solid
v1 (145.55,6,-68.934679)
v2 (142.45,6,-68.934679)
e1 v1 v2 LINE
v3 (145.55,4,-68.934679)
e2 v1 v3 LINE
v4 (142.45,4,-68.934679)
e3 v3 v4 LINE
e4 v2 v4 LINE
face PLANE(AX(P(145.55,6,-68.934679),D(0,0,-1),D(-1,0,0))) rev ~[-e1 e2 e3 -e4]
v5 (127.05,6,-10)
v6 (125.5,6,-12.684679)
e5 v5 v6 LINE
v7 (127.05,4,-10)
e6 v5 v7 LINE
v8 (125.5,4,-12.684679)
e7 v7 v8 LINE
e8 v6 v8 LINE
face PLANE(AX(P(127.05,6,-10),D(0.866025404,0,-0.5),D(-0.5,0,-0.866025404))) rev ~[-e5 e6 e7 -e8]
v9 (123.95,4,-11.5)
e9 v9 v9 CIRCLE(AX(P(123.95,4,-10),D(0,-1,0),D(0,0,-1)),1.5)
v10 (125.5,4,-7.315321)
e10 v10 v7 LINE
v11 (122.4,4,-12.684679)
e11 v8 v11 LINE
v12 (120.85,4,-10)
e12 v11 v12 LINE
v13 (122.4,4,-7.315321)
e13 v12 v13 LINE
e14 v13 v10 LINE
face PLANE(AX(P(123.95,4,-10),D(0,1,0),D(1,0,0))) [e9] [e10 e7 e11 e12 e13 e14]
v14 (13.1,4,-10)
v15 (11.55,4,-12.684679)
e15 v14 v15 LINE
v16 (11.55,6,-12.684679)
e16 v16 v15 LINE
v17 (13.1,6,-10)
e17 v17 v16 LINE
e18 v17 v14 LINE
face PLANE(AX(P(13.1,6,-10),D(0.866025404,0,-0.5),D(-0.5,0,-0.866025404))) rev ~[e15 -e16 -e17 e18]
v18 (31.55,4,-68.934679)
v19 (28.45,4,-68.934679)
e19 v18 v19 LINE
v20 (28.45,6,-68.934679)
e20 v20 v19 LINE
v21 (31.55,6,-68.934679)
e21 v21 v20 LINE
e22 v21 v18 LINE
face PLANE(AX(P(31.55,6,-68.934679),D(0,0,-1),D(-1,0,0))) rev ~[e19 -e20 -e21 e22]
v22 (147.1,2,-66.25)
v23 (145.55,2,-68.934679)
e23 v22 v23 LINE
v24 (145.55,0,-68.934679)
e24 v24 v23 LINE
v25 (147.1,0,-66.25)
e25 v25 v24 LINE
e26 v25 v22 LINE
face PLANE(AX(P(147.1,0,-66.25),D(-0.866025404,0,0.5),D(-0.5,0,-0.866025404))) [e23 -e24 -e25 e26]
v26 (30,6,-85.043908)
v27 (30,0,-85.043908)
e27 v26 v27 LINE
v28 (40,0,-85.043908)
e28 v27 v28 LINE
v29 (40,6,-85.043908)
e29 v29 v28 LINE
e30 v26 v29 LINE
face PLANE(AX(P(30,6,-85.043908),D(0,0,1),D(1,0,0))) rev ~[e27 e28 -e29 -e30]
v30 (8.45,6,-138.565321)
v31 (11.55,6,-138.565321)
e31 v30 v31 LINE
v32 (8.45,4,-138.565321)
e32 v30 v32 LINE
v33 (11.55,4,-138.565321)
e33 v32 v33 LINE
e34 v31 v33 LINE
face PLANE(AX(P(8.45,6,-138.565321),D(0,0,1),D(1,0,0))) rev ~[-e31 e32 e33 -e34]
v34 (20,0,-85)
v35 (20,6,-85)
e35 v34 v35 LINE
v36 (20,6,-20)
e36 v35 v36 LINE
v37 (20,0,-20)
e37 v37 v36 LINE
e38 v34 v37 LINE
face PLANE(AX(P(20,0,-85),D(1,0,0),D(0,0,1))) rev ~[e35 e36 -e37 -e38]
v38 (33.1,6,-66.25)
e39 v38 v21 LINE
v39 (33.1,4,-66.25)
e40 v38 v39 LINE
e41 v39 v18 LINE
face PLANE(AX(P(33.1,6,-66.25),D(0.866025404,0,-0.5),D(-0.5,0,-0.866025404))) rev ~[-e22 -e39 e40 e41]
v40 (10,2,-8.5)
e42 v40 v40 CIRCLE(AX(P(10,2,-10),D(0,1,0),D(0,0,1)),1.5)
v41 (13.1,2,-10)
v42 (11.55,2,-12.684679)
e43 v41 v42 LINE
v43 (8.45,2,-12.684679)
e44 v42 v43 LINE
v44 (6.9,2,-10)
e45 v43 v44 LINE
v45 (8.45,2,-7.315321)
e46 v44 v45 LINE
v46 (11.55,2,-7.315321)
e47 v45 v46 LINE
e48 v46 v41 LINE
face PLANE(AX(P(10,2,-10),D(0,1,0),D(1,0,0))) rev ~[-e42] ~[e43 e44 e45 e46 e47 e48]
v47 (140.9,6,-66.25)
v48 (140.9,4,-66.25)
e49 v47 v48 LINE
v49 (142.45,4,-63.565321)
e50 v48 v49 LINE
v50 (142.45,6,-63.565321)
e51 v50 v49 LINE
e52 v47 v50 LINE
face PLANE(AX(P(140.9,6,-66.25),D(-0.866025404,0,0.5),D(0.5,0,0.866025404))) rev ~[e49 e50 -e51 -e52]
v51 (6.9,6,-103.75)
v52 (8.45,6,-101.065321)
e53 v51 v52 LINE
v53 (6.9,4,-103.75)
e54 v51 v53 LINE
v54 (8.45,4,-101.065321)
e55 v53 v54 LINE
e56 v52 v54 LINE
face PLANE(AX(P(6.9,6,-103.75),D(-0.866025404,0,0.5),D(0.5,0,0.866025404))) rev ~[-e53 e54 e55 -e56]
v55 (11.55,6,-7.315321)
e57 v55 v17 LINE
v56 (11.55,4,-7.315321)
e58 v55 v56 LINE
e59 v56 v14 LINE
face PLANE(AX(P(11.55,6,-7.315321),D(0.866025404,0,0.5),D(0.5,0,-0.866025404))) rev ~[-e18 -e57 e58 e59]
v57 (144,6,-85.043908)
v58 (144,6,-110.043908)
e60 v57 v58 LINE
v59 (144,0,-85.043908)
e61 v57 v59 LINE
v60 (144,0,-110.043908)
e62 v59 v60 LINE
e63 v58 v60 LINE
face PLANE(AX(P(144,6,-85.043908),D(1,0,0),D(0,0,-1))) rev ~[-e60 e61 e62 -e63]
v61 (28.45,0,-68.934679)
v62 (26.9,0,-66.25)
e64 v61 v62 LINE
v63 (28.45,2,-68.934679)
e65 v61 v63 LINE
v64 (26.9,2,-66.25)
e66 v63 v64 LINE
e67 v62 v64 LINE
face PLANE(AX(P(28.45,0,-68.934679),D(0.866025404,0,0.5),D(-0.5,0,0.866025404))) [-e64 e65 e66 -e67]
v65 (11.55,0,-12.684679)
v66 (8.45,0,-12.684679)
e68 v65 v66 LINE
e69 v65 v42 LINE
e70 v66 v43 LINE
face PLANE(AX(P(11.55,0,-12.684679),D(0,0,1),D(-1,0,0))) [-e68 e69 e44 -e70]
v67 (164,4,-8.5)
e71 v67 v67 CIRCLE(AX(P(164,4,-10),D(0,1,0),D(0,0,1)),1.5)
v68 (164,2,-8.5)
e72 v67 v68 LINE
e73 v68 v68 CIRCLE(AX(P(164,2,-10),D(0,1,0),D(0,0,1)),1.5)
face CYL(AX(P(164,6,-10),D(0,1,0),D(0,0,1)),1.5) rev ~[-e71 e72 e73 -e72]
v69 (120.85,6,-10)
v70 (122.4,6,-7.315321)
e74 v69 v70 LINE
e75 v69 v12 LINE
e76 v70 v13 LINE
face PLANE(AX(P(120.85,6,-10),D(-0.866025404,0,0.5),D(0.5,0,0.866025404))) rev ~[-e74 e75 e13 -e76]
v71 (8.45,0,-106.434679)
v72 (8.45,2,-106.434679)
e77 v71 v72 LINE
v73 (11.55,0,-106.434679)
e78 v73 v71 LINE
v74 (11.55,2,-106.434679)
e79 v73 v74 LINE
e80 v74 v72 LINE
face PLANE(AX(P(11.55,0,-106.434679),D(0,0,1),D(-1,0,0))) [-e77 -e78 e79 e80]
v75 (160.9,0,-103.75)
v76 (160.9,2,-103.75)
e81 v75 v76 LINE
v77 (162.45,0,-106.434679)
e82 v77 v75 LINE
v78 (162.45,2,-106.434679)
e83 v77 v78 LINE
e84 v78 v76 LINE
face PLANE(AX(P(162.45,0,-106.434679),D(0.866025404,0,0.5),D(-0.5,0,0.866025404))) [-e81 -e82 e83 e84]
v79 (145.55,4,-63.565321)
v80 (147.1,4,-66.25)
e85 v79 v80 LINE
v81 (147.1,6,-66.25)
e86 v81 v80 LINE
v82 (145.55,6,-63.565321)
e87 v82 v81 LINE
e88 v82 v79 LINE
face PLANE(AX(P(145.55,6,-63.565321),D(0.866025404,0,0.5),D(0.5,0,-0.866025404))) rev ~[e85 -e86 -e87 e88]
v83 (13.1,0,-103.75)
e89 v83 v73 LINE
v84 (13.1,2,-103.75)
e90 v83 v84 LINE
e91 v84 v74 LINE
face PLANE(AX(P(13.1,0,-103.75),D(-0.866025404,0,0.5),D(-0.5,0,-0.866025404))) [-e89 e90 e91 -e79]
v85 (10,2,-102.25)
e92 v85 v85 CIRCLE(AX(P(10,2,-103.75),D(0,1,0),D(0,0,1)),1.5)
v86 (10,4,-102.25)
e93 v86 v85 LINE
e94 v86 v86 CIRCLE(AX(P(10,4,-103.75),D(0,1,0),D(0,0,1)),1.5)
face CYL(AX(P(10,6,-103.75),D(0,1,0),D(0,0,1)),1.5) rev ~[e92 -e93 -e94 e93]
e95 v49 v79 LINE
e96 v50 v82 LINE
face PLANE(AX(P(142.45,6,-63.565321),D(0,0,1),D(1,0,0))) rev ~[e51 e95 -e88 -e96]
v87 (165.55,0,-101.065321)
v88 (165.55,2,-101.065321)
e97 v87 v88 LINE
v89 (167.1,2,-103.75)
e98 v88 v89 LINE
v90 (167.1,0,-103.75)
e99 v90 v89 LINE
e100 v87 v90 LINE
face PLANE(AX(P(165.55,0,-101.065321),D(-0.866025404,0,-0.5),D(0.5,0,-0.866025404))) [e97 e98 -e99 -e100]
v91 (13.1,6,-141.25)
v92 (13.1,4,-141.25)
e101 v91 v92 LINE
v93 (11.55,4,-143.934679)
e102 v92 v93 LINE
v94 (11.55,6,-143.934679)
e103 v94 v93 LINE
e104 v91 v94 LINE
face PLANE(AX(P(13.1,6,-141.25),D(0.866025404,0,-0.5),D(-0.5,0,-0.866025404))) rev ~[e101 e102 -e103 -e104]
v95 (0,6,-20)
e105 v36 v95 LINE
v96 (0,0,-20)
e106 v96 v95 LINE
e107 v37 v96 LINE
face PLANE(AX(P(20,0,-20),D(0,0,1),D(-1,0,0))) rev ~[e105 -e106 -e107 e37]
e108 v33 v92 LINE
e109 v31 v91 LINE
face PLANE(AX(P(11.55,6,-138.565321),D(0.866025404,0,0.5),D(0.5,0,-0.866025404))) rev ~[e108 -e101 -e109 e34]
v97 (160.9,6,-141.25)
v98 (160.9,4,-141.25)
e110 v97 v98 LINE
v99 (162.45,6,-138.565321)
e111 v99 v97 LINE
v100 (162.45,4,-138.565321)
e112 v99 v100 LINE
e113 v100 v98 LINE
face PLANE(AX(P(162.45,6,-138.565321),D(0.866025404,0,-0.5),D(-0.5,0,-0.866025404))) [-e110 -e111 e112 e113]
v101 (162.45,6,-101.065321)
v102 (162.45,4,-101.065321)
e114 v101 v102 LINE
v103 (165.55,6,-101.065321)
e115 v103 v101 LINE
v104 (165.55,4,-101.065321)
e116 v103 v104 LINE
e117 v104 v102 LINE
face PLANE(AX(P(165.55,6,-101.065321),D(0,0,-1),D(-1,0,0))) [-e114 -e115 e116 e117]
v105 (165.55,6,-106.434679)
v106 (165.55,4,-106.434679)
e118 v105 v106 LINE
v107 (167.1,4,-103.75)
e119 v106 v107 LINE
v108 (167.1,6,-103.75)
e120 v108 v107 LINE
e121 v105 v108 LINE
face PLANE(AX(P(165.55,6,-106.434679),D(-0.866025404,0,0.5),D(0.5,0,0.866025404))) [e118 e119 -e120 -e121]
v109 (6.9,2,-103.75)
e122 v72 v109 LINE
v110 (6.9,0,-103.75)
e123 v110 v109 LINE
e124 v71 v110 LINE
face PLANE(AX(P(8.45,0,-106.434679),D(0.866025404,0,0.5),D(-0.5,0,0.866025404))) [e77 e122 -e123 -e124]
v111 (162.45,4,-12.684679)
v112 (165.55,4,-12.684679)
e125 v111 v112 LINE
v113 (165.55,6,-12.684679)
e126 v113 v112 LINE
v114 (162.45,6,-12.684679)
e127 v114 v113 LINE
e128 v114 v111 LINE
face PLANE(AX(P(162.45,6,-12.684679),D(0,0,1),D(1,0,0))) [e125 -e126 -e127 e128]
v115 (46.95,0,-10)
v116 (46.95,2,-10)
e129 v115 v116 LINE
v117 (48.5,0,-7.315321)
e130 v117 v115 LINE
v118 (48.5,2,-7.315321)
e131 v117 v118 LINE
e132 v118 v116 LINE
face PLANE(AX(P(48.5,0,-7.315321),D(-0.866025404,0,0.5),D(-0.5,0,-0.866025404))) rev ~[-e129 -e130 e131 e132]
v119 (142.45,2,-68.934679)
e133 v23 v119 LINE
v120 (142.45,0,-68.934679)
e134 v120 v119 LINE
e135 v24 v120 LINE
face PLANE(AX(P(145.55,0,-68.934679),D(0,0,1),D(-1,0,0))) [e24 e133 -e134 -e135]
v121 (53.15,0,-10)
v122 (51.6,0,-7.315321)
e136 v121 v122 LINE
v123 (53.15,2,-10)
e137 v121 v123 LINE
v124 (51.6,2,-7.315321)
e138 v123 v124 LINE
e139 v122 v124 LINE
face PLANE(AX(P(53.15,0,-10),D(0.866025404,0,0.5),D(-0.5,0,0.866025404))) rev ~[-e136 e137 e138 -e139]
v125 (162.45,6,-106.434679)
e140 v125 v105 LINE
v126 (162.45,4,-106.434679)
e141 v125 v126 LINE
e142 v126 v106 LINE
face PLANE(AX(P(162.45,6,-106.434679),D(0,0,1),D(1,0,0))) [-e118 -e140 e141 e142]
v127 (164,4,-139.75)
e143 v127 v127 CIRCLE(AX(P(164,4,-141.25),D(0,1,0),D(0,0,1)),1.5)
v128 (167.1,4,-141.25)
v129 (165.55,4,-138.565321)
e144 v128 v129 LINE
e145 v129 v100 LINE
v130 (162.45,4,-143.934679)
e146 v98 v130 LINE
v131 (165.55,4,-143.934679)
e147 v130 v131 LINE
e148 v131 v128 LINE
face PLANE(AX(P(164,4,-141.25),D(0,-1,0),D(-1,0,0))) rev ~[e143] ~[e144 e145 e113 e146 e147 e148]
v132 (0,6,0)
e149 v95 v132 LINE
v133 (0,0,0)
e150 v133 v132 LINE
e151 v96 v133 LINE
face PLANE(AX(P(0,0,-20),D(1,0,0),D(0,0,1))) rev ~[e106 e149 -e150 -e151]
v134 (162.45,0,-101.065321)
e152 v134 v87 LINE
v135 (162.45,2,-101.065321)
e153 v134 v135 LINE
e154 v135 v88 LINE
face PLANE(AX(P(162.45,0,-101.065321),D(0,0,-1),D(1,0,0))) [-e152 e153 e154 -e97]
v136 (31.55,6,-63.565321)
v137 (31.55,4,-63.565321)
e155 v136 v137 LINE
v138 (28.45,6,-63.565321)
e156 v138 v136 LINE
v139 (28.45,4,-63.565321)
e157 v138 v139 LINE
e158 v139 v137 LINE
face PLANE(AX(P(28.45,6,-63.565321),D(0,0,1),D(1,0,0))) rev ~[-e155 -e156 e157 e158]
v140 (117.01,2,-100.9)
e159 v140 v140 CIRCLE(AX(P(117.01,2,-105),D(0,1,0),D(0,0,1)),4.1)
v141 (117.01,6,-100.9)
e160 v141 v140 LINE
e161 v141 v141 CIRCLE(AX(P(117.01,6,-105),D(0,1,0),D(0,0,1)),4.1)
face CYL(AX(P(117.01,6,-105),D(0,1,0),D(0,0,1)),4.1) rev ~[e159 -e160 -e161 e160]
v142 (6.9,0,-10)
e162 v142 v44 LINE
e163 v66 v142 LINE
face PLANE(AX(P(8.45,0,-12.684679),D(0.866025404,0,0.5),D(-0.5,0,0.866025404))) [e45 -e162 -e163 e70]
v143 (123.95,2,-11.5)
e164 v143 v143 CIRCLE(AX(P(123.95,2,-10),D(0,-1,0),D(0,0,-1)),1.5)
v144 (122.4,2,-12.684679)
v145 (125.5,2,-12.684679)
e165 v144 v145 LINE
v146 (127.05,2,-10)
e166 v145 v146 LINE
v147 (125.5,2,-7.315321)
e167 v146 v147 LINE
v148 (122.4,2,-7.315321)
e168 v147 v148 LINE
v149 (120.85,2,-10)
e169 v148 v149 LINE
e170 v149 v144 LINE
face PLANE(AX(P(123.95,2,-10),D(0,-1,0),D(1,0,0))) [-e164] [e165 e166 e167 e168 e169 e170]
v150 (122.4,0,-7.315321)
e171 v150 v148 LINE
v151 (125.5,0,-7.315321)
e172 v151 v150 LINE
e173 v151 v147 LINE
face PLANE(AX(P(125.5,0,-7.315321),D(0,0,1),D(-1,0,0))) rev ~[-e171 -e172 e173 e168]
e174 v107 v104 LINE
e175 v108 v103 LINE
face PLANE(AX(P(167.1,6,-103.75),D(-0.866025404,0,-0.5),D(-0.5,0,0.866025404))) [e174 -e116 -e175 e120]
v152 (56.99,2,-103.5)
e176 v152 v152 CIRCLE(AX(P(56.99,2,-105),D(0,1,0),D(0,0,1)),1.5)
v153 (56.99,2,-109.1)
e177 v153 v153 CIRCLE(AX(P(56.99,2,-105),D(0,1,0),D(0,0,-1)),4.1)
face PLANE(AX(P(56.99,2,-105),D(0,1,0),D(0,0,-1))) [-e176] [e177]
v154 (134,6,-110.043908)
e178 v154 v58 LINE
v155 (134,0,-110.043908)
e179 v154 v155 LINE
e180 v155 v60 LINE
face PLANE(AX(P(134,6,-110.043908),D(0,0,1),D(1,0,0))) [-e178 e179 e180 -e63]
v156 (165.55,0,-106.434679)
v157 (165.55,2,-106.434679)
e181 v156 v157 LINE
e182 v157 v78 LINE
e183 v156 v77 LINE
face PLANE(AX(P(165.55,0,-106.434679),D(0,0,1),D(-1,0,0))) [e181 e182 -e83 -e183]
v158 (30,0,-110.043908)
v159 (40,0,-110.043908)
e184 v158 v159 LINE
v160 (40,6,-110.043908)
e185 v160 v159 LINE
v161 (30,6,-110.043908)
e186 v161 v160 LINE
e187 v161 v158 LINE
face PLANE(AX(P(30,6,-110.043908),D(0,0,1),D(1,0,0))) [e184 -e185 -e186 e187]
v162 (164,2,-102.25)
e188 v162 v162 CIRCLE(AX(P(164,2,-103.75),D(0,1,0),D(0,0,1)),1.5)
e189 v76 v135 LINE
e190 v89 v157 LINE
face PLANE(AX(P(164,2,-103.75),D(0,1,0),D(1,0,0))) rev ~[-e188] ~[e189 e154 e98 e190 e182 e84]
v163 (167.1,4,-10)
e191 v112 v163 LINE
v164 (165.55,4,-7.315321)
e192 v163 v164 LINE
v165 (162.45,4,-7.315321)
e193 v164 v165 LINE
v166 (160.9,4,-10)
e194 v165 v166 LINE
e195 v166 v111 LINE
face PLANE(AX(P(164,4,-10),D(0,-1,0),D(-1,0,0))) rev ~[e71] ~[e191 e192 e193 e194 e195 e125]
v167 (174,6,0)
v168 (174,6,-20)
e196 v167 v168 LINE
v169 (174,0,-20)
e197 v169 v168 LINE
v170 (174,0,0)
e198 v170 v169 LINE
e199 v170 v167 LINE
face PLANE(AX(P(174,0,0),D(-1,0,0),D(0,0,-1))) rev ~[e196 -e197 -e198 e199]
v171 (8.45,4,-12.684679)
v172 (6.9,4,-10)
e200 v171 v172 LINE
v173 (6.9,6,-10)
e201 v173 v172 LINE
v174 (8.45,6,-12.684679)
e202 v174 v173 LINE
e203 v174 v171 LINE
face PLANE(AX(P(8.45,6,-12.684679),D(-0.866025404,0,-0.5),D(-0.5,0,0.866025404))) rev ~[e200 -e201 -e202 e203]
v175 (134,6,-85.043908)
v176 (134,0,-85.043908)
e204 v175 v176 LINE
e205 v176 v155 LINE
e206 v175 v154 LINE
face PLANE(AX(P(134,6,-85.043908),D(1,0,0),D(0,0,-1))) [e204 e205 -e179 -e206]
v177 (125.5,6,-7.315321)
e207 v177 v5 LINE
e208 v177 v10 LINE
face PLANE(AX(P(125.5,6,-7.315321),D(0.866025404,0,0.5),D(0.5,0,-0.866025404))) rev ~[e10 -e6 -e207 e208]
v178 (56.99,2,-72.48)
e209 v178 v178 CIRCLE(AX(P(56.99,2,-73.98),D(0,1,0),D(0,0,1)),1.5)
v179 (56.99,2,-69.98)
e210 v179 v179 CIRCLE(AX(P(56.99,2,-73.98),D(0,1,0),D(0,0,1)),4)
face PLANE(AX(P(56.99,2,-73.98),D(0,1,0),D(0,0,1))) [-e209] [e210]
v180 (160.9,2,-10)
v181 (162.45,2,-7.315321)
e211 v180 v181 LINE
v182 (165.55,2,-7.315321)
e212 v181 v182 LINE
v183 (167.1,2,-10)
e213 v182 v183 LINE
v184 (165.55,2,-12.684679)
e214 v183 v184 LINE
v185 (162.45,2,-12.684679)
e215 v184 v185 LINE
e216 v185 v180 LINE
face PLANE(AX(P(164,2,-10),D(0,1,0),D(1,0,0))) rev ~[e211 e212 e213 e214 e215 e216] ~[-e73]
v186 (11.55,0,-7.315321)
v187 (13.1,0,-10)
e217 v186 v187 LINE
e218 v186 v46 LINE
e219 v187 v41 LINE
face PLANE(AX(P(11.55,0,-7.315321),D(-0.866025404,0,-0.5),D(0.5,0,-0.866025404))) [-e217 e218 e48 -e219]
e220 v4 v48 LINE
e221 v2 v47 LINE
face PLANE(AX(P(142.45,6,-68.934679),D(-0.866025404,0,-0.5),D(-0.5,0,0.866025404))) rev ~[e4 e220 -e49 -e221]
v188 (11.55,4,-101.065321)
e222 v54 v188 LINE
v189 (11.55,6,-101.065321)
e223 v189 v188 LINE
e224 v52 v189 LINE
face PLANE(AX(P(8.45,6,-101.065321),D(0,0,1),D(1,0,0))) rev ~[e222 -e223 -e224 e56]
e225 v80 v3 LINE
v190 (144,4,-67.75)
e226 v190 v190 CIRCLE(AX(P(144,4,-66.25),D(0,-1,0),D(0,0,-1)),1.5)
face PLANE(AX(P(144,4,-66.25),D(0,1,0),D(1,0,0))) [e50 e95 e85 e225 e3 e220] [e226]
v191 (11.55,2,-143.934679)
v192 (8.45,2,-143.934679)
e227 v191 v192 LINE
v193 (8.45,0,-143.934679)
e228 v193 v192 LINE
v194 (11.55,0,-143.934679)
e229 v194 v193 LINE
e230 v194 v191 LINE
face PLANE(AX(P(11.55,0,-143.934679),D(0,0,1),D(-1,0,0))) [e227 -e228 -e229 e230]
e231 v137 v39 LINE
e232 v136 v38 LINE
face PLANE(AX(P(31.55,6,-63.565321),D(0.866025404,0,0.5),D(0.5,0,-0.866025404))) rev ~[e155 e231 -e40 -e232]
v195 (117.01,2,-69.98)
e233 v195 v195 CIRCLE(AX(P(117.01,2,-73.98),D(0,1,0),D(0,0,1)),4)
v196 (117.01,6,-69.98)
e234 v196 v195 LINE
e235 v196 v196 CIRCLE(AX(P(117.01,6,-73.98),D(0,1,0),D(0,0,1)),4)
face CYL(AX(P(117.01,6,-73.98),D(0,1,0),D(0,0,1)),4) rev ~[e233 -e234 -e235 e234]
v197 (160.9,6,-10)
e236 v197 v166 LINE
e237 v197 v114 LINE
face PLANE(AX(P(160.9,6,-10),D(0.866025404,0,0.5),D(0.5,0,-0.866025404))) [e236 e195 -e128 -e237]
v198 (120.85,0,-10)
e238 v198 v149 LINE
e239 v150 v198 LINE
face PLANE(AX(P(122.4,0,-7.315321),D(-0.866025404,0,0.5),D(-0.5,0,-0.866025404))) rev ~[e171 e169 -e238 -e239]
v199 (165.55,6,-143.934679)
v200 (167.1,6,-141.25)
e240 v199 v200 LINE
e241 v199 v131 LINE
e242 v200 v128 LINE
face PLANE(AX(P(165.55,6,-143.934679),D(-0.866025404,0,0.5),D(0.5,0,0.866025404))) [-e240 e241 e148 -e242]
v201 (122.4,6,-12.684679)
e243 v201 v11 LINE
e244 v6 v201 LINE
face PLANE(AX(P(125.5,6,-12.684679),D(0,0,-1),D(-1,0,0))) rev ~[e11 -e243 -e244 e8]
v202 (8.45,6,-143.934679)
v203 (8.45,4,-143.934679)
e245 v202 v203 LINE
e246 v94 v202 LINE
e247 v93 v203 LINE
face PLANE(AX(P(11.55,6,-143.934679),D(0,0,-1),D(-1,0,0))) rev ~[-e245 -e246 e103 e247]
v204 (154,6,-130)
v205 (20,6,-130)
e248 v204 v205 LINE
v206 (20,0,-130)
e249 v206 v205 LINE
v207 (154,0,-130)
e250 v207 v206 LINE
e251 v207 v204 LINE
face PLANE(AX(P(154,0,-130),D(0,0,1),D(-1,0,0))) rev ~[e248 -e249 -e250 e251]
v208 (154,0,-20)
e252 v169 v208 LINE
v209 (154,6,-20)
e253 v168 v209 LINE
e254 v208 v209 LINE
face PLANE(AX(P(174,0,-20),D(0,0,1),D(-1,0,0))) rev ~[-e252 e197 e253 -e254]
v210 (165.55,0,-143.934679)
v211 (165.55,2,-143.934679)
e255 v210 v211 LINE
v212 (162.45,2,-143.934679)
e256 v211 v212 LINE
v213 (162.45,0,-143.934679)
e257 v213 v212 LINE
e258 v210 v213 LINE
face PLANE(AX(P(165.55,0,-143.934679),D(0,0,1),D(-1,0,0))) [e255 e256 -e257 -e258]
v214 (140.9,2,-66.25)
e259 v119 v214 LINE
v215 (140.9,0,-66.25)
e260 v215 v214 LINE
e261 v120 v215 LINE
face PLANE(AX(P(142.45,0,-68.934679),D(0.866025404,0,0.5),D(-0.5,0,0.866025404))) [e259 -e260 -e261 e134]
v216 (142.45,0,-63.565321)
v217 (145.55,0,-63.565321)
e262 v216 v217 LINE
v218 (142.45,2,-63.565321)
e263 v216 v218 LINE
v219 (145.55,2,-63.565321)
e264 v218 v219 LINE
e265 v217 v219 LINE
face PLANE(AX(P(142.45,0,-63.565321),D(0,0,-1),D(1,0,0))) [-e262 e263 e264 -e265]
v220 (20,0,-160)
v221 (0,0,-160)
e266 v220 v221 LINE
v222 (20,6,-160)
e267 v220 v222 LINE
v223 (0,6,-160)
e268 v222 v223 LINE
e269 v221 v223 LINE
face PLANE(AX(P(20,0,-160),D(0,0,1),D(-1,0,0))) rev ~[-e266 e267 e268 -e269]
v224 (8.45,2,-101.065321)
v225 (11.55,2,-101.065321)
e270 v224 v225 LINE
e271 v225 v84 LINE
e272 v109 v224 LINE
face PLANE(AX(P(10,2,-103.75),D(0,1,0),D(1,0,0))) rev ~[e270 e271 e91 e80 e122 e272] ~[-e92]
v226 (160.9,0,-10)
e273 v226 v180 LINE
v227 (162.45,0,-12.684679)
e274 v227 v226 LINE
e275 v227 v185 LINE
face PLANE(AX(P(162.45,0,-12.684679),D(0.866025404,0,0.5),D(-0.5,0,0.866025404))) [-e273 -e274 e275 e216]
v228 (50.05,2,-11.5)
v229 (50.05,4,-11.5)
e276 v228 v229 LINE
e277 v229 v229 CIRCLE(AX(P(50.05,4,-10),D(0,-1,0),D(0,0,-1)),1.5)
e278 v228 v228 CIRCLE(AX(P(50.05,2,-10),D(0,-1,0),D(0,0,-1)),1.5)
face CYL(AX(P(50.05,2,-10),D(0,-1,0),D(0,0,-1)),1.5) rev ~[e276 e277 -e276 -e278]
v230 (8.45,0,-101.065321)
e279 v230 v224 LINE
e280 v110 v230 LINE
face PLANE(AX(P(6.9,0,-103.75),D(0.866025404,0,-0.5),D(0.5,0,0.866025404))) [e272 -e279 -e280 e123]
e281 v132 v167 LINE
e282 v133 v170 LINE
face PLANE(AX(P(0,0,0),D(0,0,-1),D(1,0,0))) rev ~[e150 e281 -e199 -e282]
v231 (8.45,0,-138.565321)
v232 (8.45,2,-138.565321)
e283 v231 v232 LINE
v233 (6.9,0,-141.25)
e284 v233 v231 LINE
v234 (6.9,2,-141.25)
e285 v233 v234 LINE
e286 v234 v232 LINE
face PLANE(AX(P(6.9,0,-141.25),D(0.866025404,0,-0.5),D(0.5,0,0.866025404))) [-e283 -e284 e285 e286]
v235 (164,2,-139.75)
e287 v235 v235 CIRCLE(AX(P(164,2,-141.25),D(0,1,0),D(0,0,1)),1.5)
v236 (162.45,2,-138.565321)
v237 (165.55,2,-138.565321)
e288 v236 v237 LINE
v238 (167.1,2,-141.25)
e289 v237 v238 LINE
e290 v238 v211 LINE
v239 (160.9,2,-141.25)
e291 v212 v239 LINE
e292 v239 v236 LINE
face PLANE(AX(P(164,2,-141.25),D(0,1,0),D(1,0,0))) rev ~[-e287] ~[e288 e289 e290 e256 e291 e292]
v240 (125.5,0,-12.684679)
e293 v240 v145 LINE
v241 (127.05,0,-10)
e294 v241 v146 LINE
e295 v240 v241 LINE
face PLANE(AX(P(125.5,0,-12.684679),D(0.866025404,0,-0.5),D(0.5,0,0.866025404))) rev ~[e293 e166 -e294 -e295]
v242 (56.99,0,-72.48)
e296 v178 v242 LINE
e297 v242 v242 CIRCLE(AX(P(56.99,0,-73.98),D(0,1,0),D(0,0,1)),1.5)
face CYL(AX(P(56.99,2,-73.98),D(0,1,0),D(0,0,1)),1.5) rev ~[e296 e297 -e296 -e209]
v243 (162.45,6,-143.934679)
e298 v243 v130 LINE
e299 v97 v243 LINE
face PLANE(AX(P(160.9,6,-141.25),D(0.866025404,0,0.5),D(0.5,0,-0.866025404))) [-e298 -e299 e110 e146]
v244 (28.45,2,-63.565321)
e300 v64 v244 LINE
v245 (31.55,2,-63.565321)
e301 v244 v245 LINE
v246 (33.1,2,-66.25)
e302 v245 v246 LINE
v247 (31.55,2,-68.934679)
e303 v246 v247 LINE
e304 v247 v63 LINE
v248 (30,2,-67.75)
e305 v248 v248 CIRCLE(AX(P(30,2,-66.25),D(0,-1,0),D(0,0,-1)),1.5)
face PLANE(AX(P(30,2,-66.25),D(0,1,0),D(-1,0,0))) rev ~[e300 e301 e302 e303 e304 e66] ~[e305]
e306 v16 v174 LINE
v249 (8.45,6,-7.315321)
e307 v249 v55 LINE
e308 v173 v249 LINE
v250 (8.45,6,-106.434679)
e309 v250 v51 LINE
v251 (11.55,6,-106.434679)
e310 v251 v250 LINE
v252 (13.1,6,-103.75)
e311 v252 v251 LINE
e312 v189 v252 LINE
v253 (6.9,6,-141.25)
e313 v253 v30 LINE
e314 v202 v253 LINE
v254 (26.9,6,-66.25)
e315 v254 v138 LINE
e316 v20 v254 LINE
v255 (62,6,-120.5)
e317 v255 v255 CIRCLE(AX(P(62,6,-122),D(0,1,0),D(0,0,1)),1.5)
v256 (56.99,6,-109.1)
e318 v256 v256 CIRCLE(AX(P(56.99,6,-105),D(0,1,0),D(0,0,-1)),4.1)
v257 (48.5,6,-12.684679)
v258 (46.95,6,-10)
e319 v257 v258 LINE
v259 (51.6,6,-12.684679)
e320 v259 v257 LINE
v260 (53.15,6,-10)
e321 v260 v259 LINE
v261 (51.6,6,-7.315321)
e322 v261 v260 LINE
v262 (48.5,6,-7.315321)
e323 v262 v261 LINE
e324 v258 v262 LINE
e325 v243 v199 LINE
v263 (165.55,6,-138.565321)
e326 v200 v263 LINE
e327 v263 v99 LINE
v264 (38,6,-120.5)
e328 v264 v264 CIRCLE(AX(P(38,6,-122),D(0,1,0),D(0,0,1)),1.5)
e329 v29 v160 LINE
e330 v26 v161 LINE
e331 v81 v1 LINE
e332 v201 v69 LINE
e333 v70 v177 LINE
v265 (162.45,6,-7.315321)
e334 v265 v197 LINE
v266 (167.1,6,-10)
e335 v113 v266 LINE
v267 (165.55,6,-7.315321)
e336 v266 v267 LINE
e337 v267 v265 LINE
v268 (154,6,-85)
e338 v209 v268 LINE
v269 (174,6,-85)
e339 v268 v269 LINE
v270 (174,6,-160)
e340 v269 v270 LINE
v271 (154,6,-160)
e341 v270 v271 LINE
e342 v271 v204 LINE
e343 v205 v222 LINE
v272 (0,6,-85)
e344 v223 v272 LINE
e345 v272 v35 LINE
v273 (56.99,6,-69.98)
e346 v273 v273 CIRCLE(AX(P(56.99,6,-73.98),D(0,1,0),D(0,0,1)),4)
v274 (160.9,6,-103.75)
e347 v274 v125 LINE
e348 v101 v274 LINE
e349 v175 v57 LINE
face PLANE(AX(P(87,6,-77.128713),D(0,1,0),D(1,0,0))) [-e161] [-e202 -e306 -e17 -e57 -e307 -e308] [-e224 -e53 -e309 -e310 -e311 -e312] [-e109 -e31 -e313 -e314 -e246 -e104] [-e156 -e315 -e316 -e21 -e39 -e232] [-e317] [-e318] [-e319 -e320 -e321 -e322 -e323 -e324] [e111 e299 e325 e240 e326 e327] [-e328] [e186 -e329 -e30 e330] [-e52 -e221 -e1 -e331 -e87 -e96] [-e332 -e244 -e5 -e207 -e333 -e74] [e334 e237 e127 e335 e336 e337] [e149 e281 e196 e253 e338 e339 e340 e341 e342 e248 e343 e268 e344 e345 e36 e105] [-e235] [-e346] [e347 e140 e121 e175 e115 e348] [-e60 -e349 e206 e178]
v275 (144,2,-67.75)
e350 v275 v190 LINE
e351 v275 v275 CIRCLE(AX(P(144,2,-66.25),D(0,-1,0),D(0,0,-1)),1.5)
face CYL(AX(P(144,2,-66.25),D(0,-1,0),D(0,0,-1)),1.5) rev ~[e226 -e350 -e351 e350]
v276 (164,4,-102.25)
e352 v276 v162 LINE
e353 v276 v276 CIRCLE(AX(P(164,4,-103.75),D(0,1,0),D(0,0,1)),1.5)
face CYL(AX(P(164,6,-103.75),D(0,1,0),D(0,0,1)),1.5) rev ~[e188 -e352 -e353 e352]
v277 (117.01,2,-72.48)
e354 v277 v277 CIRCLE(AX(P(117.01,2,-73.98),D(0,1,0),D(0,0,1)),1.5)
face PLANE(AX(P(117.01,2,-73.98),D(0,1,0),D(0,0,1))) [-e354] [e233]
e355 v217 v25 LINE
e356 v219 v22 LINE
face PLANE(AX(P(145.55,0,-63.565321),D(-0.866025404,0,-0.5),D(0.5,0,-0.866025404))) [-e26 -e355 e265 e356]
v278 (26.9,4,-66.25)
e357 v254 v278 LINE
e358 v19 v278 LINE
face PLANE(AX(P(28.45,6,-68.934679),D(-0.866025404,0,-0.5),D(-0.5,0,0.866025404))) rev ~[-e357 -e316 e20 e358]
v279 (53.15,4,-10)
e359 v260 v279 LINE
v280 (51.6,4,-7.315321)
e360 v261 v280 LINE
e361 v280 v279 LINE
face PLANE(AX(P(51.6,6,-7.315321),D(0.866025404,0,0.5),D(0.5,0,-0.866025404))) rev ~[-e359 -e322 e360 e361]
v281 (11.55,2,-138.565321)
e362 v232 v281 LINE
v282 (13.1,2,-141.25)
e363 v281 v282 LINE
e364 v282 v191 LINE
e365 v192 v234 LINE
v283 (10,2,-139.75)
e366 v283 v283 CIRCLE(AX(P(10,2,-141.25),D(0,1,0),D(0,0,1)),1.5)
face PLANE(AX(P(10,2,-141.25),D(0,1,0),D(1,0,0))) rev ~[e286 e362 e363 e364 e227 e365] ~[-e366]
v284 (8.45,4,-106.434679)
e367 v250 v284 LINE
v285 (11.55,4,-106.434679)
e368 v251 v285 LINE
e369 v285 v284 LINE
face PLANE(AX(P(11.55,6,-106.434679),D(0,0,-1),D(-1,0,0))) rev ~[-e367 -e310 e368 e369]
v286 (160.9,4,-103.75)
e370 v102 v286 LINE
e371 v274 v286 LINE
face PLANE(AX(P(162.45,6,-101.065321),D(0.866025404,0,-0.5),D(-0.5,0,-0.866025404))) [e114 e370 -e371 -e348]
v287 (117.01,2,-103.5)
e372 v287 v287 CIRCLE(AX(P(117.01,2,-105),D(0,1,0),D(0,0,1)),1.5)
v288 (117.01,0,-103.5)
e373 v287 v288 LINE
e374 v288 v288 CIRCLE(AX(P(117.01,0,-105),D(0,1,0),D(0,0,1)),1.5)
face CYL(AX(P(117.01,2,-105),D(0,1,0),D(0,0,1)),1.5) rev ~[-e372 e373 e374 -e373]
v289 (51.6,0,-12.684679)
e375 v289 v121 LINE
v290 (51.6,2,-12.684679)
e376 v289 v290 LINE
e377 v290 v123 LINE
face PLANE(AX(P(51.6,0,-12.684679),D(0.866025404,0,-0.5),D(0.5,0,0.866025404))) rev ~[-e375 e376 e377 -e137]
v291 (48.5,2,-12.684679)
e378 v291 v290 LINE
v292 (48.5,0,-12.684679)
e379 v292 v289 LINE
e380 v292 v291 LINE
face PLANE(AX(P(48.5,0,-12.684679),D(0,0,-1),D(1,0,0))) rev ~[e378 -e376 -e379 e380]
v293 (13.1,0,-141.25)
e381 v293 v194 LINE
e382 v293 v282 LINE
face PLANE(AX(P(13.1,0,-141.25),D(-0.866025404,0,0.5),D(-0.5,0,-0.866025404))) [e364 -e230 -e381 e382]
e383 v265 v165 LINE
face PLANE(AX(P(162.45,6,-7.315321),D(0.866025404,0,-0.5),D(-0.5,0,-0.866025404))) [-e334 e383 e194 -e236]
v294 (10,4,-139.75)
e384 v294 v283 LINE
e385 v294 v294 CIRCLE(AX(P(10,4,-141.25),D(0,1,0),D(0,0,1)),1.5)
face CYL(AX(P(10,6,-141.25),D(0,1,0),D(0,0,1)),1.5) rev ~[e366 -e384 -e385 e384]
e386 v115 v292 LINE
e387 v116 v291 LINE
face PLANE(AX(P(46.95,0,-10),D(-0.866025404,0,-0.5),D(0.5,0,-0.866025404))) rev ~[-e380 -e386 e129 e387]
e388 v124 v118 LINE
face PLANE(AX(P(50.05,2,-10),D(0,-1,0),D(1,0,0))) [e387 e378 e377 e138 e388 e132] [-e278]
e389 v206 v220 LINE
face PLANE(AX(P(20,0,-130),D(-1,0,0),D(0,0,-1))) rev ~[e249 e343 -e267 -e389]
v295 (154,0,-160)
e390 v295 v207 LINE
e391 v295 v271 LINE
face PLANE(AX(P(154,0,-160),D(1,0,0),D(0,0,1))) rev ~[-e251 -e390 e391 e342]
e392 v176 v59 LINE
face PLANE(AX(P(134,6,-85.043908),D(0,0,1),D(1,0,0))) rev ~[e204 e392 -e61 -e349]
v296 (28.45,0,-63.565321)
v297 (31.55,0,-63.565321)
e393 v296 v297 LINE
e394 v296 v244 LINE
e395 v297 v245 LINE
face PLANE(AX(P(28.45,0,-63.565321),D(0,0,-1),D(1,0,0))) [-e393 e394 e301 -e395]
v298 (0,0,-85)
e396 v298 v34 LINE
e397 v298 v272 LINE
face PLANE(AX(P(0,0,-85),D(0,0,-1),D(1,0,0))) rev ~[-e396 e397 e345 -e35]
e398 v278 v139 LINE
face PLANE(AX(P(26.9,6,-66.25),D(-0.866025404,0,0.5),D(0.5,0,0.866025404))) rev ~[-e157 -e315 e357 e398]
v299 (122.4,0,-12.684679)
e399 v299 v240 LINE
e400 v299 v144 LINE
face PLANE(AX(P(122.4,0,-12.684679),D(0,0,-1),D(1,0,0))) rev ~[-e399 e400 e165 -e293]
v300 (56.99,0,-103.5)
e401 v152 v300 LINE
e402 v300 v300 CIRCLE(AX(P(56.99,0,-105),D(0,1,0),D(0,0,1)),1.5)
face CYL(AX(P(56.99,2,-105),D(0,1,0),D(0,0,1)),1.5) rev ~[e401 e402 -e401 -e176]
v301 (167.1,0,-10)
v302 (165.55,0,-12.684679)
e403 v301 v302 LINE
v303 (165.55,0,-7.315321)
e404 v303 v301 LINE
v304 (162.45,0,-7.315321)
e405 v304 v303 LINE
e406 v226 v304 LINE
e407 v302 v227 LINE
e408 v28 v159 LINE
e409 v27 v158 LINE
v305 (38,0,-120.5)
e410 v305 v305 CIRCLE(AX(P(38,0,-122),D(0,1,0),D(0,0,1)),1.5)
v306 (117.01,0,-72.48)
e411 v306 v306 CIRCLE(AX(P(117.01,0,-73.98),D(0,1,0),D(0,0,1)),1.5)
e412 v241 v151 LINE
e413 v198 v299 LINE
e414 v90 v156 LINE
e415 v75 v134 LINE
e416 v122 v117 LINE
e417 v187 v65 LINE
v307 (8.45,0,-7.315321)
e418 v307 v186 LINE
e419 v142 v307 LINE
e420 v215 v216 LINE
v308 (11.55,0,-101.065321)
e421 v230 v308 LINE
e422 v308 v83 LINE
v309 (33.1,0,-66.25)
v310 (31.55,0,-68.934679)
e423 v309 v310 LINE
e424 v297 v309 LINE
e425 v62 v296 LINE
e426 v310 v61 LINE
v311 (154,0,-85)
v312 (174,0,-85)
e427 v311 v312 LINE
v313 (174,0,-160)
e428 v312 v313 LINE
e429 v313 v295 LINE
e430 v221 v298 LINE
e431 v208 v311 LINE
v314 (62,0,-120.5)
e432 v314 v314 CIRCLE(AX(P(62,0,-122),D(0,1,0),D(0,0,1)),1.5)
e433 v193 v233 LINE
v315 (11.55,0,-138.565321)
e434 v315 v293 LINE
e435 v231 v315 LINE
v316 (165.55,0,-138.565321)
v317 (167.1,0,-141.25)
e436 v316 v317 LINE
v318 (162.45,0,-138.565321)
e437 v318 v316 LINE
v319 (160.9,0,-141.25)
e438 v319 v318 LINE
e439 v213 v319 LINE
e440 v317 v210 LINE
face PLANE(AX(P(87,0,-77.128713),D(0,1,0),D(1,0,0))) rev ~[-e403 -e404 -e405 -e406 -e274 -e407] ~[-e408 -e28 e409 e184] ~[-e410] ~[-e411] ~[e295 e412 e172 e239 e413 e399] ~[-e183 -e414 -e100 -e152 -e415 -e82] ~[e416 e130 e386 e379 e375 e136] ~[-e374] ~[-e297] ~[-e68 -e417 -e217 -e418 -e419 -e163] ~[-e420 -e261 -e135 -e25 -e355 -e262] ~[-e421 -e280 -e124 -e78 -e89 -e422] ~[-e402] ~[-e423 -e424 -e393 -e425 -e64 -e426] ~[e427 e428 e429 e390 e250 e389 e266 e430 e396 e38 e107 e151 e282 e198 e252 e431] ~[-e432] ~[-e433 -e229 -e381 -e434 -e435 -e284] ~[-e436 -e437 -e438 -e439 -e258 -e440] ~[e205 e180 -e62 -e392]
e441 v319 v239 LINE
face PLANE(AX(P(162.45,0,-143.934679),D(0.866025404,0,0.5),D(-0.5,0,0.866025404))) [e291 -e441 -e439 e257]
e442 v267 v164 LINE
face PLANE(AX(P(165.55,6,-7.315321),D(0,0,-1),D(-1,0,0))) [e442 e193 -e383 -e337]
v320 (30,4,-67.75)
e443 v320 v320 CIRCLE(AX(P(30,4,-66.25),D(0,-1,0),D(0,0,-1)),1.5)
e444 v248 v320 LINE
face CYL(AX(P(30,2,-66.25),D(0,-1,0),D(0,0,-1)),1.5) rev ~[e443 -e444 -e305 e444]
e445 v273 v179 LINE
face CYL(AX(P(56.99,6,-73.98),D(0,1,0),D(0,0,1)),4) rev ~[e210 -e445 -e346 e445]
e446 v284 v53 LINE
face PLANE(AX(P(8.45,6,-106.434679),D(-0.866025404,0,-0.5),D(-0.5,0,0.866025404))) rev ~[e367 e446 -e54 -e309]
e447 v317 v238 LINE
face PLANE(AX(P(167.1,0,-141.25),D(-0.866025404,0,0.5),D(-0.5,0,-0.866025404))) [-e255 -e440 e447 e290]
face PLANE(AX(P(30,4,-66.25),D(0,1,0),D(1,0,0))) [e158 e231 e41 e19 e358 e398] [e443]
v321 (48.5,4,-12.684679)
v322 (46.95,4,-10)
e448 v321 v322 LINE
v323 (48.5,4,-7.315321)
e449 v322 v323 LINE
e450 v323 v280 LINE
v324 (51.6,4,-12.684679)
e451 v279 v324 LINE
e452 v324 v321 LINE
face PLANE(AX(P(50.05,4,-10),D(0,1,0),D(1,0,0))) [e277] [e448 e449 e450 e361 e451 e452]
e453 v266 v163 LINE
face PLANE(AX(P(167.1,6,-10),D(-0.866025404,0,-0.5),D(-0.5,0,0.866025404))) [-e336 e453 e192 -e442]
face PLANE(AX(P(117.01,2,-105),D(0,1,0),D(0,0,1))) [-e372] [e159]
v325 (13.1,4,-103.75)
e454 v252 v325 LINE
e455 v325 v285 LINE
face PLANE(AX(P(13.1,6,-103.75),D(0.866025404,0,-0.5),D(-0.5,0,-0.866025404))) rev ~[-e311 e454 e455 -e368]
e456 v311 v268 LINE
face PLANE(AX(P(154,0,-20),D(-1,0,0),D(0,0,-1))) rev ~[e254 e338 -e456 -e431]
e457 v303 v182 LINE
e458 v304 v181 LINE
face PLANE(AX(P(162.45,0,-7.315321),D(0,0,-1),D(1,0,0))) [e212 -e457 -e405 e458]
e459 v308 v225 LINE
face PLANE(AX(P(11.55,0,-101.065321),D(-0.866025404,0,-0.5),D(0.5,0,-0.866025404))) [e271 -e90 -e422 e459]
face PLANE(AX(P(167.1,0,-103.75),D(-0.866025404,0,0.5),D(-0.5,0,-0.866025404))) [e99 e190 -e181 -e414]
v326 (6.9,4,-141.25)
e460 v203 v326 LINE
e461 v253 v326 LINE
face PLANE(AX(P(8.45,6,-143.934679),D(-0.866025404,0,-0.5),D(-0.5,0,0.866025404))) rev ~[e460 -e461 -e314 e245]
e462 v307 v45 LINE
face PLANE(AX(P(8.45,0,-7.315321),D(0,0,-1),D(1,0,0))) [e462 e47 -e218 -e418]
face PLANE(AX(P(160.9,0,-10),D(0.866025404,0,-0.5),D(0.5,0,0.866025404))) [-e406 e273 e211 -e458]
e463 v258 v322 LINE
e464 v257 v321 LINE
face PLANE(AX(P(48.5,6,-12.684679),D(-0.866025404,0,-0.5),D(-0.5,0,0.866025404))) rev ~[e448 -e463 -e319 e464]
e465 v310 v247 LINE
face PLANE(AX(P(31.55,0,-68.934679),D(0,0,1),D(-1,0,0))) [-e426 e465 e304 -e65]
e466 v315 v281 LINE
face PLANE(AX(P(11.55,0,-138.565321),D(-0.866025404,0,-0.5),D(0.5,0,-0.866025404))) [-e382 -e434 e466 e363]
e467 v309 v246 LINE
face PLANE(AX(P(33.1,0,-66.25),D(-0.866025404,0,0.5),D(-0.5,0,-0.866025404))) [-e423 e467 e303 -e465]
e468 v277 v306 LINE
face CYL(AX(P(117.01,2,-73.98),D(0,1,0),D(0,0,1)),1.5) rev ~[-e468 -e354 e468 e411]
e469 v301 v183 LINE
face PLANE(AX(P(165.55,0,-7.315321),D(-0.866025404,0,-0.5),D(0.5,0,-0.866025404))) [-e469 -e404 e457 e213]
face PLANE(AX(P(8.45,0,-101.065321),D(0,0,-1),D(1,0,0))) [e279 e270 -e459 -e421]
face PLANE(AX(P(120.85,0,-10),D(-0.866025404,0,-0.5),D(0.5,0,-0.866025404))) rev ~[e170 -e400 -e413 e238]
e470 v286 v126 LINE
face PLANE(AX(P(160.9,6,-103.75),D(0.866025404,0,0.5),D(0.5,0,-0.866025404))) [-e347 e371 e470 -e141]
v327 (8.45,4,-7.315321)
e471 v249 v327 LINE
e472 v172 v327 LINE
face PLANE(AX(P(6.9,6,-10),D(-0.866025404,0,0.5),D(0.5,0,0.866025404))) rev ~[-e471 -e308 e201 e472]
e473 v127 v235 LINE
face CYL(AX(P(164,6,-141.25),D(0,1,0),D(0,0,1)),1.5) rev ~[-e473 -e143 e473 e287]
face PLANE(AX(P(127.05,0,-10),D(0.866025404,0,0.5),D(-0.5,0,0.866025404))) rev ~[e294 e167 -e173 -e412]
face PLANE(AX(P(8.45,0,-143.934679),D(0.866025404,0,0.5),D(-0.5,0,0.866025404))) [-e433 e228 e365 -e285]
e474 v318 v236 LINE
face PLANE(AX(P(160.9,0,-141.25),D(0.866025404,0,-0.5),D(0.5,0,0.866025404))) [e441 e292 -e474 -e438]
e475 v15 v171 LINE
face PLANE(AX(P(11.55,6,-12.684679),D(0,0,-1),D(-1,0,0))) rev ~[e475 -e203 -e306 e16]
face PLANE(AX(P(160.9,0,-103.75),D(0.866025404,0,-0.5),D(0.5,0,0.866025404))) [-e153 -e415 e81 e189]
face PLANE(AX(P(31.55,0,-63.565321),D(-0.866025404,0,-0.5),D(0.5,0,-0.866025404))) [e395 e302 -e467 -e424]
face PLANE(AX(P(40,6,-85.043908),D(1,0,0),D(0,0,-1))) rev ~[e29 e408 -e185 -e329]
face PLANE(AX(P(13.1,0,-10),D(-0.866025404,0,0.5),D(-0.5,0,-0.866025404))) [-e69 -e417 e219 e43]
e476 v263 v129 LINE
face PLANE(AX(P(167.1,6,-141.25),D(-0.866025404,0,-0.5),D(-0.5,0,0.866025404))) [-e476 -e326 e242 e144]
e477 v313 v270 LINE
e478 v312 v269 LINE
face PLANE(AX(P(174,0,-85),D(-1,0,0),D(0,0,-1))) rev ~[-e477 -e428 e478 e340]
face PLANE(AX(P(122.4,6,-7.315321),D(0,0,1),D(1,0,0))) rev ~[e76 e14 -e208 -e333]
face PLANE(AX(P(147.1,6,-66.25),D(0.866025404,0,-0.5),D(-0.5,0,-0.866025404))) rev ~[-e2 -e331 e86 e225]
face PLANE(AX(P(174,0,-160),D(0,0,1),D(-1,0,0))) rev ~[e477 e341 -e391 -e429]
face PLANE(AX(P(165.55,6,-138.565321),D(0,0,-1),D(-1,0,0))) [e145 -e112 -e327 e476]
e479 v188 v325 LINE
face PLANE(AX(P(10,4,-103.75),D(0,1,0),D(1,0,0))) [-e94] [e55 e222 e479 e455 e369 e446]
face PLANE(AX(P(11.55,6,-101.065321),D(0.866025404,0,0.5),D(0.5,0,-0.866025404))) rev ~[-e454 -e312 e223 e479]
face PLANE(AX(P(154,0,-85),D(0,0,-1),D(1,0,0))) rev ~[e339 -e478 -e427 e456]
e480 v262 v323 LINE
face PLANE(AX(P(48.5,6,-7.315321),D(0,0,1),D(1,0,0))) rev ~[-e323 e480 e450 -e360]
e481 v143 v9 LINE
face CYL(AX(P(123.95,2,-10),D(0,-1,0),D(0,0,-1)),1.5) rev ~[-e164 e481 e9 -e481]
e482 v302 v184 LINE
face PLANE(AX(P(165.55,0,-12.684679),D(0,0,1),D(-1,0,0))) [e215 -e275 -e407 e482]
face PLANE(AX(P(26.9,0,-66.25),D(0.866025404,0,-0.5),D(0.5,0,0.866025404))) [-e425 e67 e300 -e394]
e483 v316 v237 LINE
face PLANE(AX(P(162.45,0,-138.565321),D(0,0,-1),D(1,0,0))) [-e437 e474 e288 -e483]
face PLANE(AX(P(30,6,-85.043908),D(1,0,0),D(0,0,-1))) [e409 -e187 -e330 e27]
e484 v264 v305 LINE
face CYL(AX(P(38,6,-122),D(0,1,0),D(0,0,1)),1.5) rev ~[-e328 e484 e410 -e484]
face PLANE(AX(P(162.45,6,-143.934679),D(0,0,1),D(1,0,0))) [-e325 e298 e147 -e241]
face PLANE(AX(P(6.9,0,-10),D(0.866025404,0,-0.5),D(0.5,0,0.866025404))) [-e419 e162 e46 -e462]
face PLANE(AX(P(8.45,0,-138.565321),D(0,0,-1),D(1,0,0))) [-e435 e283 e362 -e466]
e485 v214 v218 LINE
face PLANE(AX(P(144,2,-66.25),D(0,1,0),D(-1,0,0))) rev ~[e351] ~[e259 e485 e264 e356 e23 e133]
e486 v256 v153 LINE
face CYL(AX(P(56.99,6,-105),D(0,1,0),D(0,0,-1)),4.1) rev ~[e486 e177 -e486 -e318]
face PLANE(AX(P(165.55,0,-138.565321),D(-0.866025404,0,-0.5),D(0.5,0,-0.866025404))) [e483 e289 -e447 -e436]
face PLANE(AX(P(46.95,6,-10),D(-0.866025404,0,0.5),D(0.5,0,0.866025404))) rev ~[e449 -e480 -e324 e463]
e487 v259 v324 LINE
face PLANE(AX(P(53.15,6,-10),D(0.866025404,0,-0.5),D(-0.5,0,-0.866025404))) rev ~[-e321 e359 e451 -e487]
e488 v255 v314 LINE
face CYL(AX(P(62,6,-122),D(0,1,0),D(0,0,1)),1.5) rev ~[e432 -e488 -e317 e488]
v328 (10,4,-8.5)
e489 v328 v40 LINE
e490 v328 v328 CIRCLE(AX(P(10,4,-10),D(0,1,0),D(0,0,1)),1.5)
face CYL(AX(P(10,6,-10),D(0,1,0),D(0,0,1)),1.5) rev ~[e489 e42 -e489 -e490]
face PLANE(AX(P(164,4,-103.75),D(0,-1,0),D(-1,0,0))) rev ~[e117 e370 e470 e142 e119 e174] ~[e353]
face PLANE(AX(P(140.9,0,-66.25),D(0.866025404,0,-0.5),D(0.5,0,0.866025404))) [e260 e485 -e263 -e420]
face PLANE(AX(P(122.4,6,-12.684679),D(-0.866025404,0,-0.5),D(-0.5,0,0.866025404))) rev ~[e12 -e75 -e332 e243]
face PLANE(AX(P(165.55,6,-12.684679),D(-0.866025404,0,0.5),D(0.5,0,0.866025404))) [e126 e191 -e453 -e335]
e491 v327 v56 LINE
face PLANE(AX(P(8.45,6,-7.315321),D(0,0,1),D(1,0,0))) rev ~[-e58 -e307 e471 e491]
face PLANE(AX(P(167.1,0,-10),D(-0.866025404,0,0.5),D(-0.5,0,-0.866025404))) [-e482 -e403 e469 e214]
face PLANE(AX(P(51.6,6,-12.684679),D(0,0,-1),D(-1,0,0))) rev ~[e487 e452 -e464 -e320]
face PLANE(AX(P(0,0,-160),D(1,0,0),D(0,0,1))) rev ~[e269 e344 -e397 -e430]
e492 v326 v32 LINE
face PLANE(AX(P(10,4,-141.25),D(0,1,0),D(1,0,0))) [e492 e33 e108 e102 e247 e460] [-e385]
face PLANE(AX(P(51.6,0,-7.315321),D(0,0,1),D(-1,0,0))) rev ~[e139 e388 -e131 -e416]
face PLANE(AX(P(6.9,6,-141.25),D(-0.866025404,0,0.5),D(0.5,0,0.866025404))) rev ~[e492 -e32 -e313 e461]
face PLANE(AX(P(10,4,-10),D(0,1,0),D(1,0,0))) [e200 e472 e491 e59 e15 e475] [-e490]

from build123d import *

# Parameters (mm, degrees)
SALIENTE_EXTRUIR1_DEPTH = 6
CORTAR_EXTRUIR1_DEPTH   = 2
CORTAR_EXTRUIR3_START   = -6
CORTAR_EXTRUIR3_DEPTH   = 2
CROQUIS5_R              = 1.5
CORTAR_EXTRUIR4_DEPTH   = 32
CORTAR_EXTRUIR5_DEPTH   = 2
CORTAR_EXTRUIR7_DEPTH   = 2
CROQUIS9_R              = 1.5
CORTAR_EXTRUIR8_DEPTH   = 2
CORTAR_EXTRUIR9_DEPTH   = 2
CORTAR_EXTRUIR10_DEPTH  = 2
CROQUIS12_R             = 1.5
CORTAR_EXTRUIR11_DEPTH  = 2
CROQUIS13_R             = 4.1
CORTAR_EXTRUIR12_DEPTH  = 4
CROQUIS14_R             = 1.5
CORTAR_EXTRUIR13_DEPTH  = 4
CROQUIS15_R             = 1.5
CROQUIS15_R_2           = 4
CORTAR_EXTRUIR14_DEPTH  = 4
CROQUIS16_R             = 1.5
CORTAR_EXTRUIR15_DEPTH  = 4
CROQUIS17_W             = 10
CROQUIS17_H             = 25
CORTAR_EXTRUIR16_DEPTH  = 11.3
CROQUIS18_R             = 1.5
CORTAR_EXTRUIR17_DEPTH  = 14


with BuildPart() as part:
    # Croquis1 → Saliente-Extruir1 (new body)
    with BuildSketch(Plane(origin=(0, 0, 0), x_dir=(1, 0, 0), z_dir=(0, 1, 0))):
        Polygon((0, 0), (174, 0), (174, 20), (154, 20), (154, 85), (174, 85), (174, 160), (154, 160), (154, 130), (20, 130), (20, 160), (0, 160), (0, 85), (20, 85), (20, 20), (0, 20), align=None)
    extrude(amount=SALIENTE_EXTRUIR1_DEPTH)

    # Croquis3 → Cortar-Extruir1 (cut)
    with BuildSketch(Plane(origin=(0, 6, 0), x_dir=(1, 0, 0), z_dir=(0, 1, 0))):
        Polygon((13.1, 141.25), (11.55, 143.934678752), (8.45, 143.934678752), (6.9, 141.25), (8.45, 138.565321248), (11.55, 138.565321248), align=None)
        Polygon((13.1, 103.75), (11.55, 106.434678752), (8.45, 106.434678752), (6.9, 103.75), (8.45, 101.065321248), (11.55, 101.065321248), align=None)
        Polygon((13.1, 10), (11.55, 12.684678752), (8.45, 12.684678752), (6.9, 10), (8.45, 7.315321248), (11.55, 7.315321248), align=None)
        Polygon((162.45, 101.065321248), (160.9, 103.75), (162.45, 106.434678752), (165.55, 106.434678752), (167.1, 103.75), (165.55, 101.065321248), align=None)
        Polygon((162.45, 138.565321248), (160.9, 141.25), (162.45, 143.934678752), (165.55, 143.934678752), (167.1, 141.25), (165.55, 138.565321248), align=None)
        Polygon((162.45, 7.315321248), (160.9, 10), (162.45, 12.684678752), (165.55, 12.684678752), (167.1, 10), (165.55, 7.315321248), align=None)
    extrude(amount=-CORTAR_EXTRUIR1_DEPTH, mode=Mode.SUBTRACT)

    # Croquis4 → Cortar-Extruir3 (cut)
    with BuildSketch(Plane(origin=(0, 6, 0), x_dir=(1, 0, 0), z_dir=(0, 1, 0)).offset(CORTAR_EXTRUIR3_START)):
        Polygon((6.9, 10), (8.45, 7.315321248), (11.55, 7.315321248), (13.1, 10), (11.55, 12.684678752), (8.45, 12.684678752), align=None)
        Polygon((6.9, 103.75), (8.45, 101.065321248), (11.55, 101.065321248), (13.1, 103.75), (11.55, 106.434678752), (8.45, 106.434678752), align=None)
        Polygon((6.9, 141.25), (8.45, 138.565321248), (11.55, 138.565321248), (13.1, 141.25), (11.55, 143.934678752), (8.45, 143.934678752), align=None)
        Polygon((162.45, 143.934678752), (160.9, 141.25), (162.45, 138.565321248), (165.55, 138.565321248), (167.1, 141.25), (165.55, 143.934678752), align=None)
        Polygon((162.45, 106.434678752), (160.9, 103.75), (162.45, 101.065321248), (165.55, 101.065321248), (167.1, 103.75), (165.55, 106.434678752), align=None)
        Polygon((162.45, 12.684678752), (160.9, 10), (162.45, 7.315321248), (165.55, 7.315321248), (167.1, 10), (165.55, 12.684678752), align=None)
    extrude(amount=CORTAR_EXTRUIR3_DEPTH, mode=Mode.SUBTRACT)

    # Croquis5 → Cortar-Extruir4 (cut)
    with BuildSketch(Plane(origin=(0, 6, 0), x_dir=(1, 0, 0), z_dir=(0, 1, 0))):
        with Locations(Location((10, 141.25, 0), (0, 0, 270))):
            Circle(CROQUIS5_R)
        with Locations(Location((10, 103.75, 0), (0, 0, 270))):
            Circle(CROQUIS5_R)
        with Locations(Location((10, 10, 0), (0, 0, 270))):
            Circle(CROQUIS5_R)
        with Locations(Location((164, 103.75, 0), (0, 0, 270))):
            Circle(CROQUIS5_R)
        with Locations(Location((164, 141.25, 0), (0, 0, 270))):
            Circle(CROQUIS5_R)
        with Locations(Location((164, 10, 0), (0, 0, 270))):
            Circle(CROQUIS5_R)
    extrude(amount=-CORTAR_EXTRUIR4_DEPTH, mode=Mode.SUBTRACT)

    # Croquis6 → Cortar-Extruir5 (cut)
    with BuildSketch(Plane(origin=(0, 6, 0), x_dir=(1, 0, 0), z_dir=(0, 1, 0))):
        Polygon((53.15, 10), (51.6, 12.684678752), (48.5, 12.684678752), (46.95, 10), (48.5, 7.315321248), (51.6, 7.315321248), align=None)
        Polygon((127.05, 10), (125.5, 12.684678752), (122.4, 12.684678752), (120.85, 10), (122.4, 7.315321248), (125.5, 7.315321248), align=None)
    extrude(amount=-CORTAR_EXTRUIR5_DEPTH, mode=Mode.SUBTRACT)

    # Croquis7 → Cortar-Extruir7 (cut)
    with BuildSketch(Plane.XZ):
        Polygon((53.15, -10), (51.6, -7.315321248), (48.5, -7.315321248), (46.95, -10), (48.5, -12.684678752), (51.6, -12.684678752), align=None)
        Polygon((127.05, -10), (125.5, -7.315321248), (122.4, -7.315321248), (120.85, -10), (122.4, -12.684678752), (125.5, -12.684678752), align=None)
    extrude(amount=-CORTAR_EXTRUIR7_DEPTH, mode=Mode.SUBTRACT)

    # Croquis9 → Cortar-Extruir8 (cut)
    with BuildSketch(Plane.XZ.offset(-2)):
        with Locations(Location((123.95, -10, 0), (0, 0, 270))):
            Circle(CROQUIS9_R)
        with Locations(Location((50.05, -10, 0), (0, 0, 270))):
            Circle(CROQUIS9_R)
    extrude(amount=-CORTAR_EXTRUIR8_DEPTH, mode=Mode.SUBTRACT)

    # Croquis10 → Cortar-Extruir9 (cut)
    with BuildSketch(Plane(origin=(0, 6, 0), x_dir=(1, 0, 0), z_dir=(0, 1, 0))):
        Polygon((33.1, 66.25), (31.55, 68.934678752), (28.45, 68.934678752), (26.9, 66.25), (28.45, 63.565321248), (31.55, 63.565321248), align=None)
        Polygon((147.1, 66.25), (145.55, 68.934678752), (142.45, 68.934678752), (140.9, 66.25), (142.45, 63.565321248), (145.55, 63.565321248), align=None)
    extrude(amount=-CORTAR_EXTRUIR9_DEPTH, mode=Mode.SUBTRACT)

    # Croquis11 → Cortar-Extruir10 (cut)
    with BuildSketch(Plane.XZ):
        Polygon((145.55, -63.565321248), (147.1, -66.25), (145.55, -68.934678752), (142.45, -68.934678752), (140.9, -66.25), (142.45, -63.565321248), align=None)
        Polygon((31.55, -63.565321248), (33.1, -66.25), (31.55, -68.934678752), (28.45, -68.934678752), (26.9, -66.25), (28.45, -63.565321248), align=None)
    extrude(amount=-CORTAR_EXTRUIR10_DEPTH, mode=Mode.SUBTRACT)

    # Croquis12 → Cortar-Extruir11 (cut)
    with BuildSketch(Plane.XZ.offset(-2)):
        with Locations(Location((144, -66.25, 0), (0, 0, 270))):
            Circle(CROQUIS12_R)
        with Locations(Location((30, -66.25, 0), (0, 0, 270))):
            Circle(CROQUIS12_R)
    extrude(amount=-CORTAR_EXTRUIR11_DEPTH, mode=Mode.SUBTRACT)

    # Croquis13 → Cortar-Extruir12 (cut)
    with BuildSketch(Plane(origin=(0, 6, 0), x_dir=(1, 0, 0), z_dir=(0, 1, 0))):
        with Locations(Location((117.01, 105, 0), (0, 0, 270))):
            Circle(CROQUIS13_R)
        with Locations(Location((56.99, 105, 0), (0, 0, 90))):
            Circle(CROQUIS13_R)
    extrude(amount=-CORTAR_EXTRUIR12_DEPTH, mode=Mode.SUBTRACT)

    # Croquis14 → Cortar-Extruir13 (cut)
    with BuildSketch(Plane(origin=(0, 2, 0), x_dir=(1, 0, 0), z_dir=(0, 1, 0))):
        with Locations(Location((117.01, 105, 0), (0, 0, 270))):
            Circle(CROQUIS14_R)
        with Locations(Location((56.99, 105, 0), (0, 0, 270))):
            Circle(CROQUIS14_R)
    extrude(amount=-CORTAR_EXTRUIR13_DEPTH, mode=Mode.SUBTRACT)

    # Croquis15 → Cortar-Extruir14 (cut)
    with BuildSketch(Plane(origin=(0, 6, 0), x_dir=(1, 0, 0), z_dir=(0, 1, 0))):
        with Locations(Location((56.99, 105, 0), (0, 0, 270))):
            Circle(CROQUIS15_R)
        with Locations(Location((56.99, 73.98, 0), (0, 0, 270))):
            Circle(CROQUIS15_R_2)
        with Locations(Location((117.01, 105, 0), (0, 0, 270))):
            Circle(CROQUIS15_R)
        with Locations(Location((117.01, 73.98, 0), (0, 0, 270))):
            Circle(CROQUIS15_R_2)
    extrude(amount=-CORTAR_EXTRUIR14_DEPTH, mode=Mode.SUBTRACT)

    # Croquis16 → Cortar-Extruir15 (cut)
    with BuildSketch(Plane(origin=(0, 2, 0), x_dir=(1, 0, 0), z_dir=(0, 1, 0))):
        with Locations(Location((56.99, 73.98, 0), (0, 0, 270))):
            Circle(CROQUIS16_R)
        with Locations(Location((117.01, 73.98, 0), (0, 0, 270))):
            Circle(CROQUIS16_R)
    extrude(amount=-CORTAR_EXTRUIR15_DEPTH, mode=Mode.SUBTRACT)

    # Croquis17 → Cortar-Extruir16 (cut)
    with BuildSketch(Plane(origin=(0, 6, 0), x_dir=(1, 0, 0), z_dir=(0, 1, 0))):
        with Locations((35, 97.543907688)):
            Rectangle(CROQUIS17_W, CROQUIS17_H)
        with Locations((139, 97.543907688)):
            Rectangle(CROQUIS17_W, CROQUIS17_H)
    extrude(amount=-CORTAR_EXTRUIR16_DEPTH, mode=Mode.SUBTRACT)

    # Croquis18 → Cortar-Extruir17 (cut)
    with BuildSketch(Plane(origin=(0, 6, 0), x_dir=(1, 0, 0), z_dir=(0, 1, 0))):
        with Locations(Location((38, 122, 0), (0, 0, 270))):
            Circle(CROQUIS18_R)
        with Locations(Location((62, 122, 0), (0, 0, 270))):
            Circle(CROQUIS18_R)
    extrude(amount=-CORTAR_EXTRUIR17_DEPTH, mode=Mode.SUBTRACT)


solid = part.part
